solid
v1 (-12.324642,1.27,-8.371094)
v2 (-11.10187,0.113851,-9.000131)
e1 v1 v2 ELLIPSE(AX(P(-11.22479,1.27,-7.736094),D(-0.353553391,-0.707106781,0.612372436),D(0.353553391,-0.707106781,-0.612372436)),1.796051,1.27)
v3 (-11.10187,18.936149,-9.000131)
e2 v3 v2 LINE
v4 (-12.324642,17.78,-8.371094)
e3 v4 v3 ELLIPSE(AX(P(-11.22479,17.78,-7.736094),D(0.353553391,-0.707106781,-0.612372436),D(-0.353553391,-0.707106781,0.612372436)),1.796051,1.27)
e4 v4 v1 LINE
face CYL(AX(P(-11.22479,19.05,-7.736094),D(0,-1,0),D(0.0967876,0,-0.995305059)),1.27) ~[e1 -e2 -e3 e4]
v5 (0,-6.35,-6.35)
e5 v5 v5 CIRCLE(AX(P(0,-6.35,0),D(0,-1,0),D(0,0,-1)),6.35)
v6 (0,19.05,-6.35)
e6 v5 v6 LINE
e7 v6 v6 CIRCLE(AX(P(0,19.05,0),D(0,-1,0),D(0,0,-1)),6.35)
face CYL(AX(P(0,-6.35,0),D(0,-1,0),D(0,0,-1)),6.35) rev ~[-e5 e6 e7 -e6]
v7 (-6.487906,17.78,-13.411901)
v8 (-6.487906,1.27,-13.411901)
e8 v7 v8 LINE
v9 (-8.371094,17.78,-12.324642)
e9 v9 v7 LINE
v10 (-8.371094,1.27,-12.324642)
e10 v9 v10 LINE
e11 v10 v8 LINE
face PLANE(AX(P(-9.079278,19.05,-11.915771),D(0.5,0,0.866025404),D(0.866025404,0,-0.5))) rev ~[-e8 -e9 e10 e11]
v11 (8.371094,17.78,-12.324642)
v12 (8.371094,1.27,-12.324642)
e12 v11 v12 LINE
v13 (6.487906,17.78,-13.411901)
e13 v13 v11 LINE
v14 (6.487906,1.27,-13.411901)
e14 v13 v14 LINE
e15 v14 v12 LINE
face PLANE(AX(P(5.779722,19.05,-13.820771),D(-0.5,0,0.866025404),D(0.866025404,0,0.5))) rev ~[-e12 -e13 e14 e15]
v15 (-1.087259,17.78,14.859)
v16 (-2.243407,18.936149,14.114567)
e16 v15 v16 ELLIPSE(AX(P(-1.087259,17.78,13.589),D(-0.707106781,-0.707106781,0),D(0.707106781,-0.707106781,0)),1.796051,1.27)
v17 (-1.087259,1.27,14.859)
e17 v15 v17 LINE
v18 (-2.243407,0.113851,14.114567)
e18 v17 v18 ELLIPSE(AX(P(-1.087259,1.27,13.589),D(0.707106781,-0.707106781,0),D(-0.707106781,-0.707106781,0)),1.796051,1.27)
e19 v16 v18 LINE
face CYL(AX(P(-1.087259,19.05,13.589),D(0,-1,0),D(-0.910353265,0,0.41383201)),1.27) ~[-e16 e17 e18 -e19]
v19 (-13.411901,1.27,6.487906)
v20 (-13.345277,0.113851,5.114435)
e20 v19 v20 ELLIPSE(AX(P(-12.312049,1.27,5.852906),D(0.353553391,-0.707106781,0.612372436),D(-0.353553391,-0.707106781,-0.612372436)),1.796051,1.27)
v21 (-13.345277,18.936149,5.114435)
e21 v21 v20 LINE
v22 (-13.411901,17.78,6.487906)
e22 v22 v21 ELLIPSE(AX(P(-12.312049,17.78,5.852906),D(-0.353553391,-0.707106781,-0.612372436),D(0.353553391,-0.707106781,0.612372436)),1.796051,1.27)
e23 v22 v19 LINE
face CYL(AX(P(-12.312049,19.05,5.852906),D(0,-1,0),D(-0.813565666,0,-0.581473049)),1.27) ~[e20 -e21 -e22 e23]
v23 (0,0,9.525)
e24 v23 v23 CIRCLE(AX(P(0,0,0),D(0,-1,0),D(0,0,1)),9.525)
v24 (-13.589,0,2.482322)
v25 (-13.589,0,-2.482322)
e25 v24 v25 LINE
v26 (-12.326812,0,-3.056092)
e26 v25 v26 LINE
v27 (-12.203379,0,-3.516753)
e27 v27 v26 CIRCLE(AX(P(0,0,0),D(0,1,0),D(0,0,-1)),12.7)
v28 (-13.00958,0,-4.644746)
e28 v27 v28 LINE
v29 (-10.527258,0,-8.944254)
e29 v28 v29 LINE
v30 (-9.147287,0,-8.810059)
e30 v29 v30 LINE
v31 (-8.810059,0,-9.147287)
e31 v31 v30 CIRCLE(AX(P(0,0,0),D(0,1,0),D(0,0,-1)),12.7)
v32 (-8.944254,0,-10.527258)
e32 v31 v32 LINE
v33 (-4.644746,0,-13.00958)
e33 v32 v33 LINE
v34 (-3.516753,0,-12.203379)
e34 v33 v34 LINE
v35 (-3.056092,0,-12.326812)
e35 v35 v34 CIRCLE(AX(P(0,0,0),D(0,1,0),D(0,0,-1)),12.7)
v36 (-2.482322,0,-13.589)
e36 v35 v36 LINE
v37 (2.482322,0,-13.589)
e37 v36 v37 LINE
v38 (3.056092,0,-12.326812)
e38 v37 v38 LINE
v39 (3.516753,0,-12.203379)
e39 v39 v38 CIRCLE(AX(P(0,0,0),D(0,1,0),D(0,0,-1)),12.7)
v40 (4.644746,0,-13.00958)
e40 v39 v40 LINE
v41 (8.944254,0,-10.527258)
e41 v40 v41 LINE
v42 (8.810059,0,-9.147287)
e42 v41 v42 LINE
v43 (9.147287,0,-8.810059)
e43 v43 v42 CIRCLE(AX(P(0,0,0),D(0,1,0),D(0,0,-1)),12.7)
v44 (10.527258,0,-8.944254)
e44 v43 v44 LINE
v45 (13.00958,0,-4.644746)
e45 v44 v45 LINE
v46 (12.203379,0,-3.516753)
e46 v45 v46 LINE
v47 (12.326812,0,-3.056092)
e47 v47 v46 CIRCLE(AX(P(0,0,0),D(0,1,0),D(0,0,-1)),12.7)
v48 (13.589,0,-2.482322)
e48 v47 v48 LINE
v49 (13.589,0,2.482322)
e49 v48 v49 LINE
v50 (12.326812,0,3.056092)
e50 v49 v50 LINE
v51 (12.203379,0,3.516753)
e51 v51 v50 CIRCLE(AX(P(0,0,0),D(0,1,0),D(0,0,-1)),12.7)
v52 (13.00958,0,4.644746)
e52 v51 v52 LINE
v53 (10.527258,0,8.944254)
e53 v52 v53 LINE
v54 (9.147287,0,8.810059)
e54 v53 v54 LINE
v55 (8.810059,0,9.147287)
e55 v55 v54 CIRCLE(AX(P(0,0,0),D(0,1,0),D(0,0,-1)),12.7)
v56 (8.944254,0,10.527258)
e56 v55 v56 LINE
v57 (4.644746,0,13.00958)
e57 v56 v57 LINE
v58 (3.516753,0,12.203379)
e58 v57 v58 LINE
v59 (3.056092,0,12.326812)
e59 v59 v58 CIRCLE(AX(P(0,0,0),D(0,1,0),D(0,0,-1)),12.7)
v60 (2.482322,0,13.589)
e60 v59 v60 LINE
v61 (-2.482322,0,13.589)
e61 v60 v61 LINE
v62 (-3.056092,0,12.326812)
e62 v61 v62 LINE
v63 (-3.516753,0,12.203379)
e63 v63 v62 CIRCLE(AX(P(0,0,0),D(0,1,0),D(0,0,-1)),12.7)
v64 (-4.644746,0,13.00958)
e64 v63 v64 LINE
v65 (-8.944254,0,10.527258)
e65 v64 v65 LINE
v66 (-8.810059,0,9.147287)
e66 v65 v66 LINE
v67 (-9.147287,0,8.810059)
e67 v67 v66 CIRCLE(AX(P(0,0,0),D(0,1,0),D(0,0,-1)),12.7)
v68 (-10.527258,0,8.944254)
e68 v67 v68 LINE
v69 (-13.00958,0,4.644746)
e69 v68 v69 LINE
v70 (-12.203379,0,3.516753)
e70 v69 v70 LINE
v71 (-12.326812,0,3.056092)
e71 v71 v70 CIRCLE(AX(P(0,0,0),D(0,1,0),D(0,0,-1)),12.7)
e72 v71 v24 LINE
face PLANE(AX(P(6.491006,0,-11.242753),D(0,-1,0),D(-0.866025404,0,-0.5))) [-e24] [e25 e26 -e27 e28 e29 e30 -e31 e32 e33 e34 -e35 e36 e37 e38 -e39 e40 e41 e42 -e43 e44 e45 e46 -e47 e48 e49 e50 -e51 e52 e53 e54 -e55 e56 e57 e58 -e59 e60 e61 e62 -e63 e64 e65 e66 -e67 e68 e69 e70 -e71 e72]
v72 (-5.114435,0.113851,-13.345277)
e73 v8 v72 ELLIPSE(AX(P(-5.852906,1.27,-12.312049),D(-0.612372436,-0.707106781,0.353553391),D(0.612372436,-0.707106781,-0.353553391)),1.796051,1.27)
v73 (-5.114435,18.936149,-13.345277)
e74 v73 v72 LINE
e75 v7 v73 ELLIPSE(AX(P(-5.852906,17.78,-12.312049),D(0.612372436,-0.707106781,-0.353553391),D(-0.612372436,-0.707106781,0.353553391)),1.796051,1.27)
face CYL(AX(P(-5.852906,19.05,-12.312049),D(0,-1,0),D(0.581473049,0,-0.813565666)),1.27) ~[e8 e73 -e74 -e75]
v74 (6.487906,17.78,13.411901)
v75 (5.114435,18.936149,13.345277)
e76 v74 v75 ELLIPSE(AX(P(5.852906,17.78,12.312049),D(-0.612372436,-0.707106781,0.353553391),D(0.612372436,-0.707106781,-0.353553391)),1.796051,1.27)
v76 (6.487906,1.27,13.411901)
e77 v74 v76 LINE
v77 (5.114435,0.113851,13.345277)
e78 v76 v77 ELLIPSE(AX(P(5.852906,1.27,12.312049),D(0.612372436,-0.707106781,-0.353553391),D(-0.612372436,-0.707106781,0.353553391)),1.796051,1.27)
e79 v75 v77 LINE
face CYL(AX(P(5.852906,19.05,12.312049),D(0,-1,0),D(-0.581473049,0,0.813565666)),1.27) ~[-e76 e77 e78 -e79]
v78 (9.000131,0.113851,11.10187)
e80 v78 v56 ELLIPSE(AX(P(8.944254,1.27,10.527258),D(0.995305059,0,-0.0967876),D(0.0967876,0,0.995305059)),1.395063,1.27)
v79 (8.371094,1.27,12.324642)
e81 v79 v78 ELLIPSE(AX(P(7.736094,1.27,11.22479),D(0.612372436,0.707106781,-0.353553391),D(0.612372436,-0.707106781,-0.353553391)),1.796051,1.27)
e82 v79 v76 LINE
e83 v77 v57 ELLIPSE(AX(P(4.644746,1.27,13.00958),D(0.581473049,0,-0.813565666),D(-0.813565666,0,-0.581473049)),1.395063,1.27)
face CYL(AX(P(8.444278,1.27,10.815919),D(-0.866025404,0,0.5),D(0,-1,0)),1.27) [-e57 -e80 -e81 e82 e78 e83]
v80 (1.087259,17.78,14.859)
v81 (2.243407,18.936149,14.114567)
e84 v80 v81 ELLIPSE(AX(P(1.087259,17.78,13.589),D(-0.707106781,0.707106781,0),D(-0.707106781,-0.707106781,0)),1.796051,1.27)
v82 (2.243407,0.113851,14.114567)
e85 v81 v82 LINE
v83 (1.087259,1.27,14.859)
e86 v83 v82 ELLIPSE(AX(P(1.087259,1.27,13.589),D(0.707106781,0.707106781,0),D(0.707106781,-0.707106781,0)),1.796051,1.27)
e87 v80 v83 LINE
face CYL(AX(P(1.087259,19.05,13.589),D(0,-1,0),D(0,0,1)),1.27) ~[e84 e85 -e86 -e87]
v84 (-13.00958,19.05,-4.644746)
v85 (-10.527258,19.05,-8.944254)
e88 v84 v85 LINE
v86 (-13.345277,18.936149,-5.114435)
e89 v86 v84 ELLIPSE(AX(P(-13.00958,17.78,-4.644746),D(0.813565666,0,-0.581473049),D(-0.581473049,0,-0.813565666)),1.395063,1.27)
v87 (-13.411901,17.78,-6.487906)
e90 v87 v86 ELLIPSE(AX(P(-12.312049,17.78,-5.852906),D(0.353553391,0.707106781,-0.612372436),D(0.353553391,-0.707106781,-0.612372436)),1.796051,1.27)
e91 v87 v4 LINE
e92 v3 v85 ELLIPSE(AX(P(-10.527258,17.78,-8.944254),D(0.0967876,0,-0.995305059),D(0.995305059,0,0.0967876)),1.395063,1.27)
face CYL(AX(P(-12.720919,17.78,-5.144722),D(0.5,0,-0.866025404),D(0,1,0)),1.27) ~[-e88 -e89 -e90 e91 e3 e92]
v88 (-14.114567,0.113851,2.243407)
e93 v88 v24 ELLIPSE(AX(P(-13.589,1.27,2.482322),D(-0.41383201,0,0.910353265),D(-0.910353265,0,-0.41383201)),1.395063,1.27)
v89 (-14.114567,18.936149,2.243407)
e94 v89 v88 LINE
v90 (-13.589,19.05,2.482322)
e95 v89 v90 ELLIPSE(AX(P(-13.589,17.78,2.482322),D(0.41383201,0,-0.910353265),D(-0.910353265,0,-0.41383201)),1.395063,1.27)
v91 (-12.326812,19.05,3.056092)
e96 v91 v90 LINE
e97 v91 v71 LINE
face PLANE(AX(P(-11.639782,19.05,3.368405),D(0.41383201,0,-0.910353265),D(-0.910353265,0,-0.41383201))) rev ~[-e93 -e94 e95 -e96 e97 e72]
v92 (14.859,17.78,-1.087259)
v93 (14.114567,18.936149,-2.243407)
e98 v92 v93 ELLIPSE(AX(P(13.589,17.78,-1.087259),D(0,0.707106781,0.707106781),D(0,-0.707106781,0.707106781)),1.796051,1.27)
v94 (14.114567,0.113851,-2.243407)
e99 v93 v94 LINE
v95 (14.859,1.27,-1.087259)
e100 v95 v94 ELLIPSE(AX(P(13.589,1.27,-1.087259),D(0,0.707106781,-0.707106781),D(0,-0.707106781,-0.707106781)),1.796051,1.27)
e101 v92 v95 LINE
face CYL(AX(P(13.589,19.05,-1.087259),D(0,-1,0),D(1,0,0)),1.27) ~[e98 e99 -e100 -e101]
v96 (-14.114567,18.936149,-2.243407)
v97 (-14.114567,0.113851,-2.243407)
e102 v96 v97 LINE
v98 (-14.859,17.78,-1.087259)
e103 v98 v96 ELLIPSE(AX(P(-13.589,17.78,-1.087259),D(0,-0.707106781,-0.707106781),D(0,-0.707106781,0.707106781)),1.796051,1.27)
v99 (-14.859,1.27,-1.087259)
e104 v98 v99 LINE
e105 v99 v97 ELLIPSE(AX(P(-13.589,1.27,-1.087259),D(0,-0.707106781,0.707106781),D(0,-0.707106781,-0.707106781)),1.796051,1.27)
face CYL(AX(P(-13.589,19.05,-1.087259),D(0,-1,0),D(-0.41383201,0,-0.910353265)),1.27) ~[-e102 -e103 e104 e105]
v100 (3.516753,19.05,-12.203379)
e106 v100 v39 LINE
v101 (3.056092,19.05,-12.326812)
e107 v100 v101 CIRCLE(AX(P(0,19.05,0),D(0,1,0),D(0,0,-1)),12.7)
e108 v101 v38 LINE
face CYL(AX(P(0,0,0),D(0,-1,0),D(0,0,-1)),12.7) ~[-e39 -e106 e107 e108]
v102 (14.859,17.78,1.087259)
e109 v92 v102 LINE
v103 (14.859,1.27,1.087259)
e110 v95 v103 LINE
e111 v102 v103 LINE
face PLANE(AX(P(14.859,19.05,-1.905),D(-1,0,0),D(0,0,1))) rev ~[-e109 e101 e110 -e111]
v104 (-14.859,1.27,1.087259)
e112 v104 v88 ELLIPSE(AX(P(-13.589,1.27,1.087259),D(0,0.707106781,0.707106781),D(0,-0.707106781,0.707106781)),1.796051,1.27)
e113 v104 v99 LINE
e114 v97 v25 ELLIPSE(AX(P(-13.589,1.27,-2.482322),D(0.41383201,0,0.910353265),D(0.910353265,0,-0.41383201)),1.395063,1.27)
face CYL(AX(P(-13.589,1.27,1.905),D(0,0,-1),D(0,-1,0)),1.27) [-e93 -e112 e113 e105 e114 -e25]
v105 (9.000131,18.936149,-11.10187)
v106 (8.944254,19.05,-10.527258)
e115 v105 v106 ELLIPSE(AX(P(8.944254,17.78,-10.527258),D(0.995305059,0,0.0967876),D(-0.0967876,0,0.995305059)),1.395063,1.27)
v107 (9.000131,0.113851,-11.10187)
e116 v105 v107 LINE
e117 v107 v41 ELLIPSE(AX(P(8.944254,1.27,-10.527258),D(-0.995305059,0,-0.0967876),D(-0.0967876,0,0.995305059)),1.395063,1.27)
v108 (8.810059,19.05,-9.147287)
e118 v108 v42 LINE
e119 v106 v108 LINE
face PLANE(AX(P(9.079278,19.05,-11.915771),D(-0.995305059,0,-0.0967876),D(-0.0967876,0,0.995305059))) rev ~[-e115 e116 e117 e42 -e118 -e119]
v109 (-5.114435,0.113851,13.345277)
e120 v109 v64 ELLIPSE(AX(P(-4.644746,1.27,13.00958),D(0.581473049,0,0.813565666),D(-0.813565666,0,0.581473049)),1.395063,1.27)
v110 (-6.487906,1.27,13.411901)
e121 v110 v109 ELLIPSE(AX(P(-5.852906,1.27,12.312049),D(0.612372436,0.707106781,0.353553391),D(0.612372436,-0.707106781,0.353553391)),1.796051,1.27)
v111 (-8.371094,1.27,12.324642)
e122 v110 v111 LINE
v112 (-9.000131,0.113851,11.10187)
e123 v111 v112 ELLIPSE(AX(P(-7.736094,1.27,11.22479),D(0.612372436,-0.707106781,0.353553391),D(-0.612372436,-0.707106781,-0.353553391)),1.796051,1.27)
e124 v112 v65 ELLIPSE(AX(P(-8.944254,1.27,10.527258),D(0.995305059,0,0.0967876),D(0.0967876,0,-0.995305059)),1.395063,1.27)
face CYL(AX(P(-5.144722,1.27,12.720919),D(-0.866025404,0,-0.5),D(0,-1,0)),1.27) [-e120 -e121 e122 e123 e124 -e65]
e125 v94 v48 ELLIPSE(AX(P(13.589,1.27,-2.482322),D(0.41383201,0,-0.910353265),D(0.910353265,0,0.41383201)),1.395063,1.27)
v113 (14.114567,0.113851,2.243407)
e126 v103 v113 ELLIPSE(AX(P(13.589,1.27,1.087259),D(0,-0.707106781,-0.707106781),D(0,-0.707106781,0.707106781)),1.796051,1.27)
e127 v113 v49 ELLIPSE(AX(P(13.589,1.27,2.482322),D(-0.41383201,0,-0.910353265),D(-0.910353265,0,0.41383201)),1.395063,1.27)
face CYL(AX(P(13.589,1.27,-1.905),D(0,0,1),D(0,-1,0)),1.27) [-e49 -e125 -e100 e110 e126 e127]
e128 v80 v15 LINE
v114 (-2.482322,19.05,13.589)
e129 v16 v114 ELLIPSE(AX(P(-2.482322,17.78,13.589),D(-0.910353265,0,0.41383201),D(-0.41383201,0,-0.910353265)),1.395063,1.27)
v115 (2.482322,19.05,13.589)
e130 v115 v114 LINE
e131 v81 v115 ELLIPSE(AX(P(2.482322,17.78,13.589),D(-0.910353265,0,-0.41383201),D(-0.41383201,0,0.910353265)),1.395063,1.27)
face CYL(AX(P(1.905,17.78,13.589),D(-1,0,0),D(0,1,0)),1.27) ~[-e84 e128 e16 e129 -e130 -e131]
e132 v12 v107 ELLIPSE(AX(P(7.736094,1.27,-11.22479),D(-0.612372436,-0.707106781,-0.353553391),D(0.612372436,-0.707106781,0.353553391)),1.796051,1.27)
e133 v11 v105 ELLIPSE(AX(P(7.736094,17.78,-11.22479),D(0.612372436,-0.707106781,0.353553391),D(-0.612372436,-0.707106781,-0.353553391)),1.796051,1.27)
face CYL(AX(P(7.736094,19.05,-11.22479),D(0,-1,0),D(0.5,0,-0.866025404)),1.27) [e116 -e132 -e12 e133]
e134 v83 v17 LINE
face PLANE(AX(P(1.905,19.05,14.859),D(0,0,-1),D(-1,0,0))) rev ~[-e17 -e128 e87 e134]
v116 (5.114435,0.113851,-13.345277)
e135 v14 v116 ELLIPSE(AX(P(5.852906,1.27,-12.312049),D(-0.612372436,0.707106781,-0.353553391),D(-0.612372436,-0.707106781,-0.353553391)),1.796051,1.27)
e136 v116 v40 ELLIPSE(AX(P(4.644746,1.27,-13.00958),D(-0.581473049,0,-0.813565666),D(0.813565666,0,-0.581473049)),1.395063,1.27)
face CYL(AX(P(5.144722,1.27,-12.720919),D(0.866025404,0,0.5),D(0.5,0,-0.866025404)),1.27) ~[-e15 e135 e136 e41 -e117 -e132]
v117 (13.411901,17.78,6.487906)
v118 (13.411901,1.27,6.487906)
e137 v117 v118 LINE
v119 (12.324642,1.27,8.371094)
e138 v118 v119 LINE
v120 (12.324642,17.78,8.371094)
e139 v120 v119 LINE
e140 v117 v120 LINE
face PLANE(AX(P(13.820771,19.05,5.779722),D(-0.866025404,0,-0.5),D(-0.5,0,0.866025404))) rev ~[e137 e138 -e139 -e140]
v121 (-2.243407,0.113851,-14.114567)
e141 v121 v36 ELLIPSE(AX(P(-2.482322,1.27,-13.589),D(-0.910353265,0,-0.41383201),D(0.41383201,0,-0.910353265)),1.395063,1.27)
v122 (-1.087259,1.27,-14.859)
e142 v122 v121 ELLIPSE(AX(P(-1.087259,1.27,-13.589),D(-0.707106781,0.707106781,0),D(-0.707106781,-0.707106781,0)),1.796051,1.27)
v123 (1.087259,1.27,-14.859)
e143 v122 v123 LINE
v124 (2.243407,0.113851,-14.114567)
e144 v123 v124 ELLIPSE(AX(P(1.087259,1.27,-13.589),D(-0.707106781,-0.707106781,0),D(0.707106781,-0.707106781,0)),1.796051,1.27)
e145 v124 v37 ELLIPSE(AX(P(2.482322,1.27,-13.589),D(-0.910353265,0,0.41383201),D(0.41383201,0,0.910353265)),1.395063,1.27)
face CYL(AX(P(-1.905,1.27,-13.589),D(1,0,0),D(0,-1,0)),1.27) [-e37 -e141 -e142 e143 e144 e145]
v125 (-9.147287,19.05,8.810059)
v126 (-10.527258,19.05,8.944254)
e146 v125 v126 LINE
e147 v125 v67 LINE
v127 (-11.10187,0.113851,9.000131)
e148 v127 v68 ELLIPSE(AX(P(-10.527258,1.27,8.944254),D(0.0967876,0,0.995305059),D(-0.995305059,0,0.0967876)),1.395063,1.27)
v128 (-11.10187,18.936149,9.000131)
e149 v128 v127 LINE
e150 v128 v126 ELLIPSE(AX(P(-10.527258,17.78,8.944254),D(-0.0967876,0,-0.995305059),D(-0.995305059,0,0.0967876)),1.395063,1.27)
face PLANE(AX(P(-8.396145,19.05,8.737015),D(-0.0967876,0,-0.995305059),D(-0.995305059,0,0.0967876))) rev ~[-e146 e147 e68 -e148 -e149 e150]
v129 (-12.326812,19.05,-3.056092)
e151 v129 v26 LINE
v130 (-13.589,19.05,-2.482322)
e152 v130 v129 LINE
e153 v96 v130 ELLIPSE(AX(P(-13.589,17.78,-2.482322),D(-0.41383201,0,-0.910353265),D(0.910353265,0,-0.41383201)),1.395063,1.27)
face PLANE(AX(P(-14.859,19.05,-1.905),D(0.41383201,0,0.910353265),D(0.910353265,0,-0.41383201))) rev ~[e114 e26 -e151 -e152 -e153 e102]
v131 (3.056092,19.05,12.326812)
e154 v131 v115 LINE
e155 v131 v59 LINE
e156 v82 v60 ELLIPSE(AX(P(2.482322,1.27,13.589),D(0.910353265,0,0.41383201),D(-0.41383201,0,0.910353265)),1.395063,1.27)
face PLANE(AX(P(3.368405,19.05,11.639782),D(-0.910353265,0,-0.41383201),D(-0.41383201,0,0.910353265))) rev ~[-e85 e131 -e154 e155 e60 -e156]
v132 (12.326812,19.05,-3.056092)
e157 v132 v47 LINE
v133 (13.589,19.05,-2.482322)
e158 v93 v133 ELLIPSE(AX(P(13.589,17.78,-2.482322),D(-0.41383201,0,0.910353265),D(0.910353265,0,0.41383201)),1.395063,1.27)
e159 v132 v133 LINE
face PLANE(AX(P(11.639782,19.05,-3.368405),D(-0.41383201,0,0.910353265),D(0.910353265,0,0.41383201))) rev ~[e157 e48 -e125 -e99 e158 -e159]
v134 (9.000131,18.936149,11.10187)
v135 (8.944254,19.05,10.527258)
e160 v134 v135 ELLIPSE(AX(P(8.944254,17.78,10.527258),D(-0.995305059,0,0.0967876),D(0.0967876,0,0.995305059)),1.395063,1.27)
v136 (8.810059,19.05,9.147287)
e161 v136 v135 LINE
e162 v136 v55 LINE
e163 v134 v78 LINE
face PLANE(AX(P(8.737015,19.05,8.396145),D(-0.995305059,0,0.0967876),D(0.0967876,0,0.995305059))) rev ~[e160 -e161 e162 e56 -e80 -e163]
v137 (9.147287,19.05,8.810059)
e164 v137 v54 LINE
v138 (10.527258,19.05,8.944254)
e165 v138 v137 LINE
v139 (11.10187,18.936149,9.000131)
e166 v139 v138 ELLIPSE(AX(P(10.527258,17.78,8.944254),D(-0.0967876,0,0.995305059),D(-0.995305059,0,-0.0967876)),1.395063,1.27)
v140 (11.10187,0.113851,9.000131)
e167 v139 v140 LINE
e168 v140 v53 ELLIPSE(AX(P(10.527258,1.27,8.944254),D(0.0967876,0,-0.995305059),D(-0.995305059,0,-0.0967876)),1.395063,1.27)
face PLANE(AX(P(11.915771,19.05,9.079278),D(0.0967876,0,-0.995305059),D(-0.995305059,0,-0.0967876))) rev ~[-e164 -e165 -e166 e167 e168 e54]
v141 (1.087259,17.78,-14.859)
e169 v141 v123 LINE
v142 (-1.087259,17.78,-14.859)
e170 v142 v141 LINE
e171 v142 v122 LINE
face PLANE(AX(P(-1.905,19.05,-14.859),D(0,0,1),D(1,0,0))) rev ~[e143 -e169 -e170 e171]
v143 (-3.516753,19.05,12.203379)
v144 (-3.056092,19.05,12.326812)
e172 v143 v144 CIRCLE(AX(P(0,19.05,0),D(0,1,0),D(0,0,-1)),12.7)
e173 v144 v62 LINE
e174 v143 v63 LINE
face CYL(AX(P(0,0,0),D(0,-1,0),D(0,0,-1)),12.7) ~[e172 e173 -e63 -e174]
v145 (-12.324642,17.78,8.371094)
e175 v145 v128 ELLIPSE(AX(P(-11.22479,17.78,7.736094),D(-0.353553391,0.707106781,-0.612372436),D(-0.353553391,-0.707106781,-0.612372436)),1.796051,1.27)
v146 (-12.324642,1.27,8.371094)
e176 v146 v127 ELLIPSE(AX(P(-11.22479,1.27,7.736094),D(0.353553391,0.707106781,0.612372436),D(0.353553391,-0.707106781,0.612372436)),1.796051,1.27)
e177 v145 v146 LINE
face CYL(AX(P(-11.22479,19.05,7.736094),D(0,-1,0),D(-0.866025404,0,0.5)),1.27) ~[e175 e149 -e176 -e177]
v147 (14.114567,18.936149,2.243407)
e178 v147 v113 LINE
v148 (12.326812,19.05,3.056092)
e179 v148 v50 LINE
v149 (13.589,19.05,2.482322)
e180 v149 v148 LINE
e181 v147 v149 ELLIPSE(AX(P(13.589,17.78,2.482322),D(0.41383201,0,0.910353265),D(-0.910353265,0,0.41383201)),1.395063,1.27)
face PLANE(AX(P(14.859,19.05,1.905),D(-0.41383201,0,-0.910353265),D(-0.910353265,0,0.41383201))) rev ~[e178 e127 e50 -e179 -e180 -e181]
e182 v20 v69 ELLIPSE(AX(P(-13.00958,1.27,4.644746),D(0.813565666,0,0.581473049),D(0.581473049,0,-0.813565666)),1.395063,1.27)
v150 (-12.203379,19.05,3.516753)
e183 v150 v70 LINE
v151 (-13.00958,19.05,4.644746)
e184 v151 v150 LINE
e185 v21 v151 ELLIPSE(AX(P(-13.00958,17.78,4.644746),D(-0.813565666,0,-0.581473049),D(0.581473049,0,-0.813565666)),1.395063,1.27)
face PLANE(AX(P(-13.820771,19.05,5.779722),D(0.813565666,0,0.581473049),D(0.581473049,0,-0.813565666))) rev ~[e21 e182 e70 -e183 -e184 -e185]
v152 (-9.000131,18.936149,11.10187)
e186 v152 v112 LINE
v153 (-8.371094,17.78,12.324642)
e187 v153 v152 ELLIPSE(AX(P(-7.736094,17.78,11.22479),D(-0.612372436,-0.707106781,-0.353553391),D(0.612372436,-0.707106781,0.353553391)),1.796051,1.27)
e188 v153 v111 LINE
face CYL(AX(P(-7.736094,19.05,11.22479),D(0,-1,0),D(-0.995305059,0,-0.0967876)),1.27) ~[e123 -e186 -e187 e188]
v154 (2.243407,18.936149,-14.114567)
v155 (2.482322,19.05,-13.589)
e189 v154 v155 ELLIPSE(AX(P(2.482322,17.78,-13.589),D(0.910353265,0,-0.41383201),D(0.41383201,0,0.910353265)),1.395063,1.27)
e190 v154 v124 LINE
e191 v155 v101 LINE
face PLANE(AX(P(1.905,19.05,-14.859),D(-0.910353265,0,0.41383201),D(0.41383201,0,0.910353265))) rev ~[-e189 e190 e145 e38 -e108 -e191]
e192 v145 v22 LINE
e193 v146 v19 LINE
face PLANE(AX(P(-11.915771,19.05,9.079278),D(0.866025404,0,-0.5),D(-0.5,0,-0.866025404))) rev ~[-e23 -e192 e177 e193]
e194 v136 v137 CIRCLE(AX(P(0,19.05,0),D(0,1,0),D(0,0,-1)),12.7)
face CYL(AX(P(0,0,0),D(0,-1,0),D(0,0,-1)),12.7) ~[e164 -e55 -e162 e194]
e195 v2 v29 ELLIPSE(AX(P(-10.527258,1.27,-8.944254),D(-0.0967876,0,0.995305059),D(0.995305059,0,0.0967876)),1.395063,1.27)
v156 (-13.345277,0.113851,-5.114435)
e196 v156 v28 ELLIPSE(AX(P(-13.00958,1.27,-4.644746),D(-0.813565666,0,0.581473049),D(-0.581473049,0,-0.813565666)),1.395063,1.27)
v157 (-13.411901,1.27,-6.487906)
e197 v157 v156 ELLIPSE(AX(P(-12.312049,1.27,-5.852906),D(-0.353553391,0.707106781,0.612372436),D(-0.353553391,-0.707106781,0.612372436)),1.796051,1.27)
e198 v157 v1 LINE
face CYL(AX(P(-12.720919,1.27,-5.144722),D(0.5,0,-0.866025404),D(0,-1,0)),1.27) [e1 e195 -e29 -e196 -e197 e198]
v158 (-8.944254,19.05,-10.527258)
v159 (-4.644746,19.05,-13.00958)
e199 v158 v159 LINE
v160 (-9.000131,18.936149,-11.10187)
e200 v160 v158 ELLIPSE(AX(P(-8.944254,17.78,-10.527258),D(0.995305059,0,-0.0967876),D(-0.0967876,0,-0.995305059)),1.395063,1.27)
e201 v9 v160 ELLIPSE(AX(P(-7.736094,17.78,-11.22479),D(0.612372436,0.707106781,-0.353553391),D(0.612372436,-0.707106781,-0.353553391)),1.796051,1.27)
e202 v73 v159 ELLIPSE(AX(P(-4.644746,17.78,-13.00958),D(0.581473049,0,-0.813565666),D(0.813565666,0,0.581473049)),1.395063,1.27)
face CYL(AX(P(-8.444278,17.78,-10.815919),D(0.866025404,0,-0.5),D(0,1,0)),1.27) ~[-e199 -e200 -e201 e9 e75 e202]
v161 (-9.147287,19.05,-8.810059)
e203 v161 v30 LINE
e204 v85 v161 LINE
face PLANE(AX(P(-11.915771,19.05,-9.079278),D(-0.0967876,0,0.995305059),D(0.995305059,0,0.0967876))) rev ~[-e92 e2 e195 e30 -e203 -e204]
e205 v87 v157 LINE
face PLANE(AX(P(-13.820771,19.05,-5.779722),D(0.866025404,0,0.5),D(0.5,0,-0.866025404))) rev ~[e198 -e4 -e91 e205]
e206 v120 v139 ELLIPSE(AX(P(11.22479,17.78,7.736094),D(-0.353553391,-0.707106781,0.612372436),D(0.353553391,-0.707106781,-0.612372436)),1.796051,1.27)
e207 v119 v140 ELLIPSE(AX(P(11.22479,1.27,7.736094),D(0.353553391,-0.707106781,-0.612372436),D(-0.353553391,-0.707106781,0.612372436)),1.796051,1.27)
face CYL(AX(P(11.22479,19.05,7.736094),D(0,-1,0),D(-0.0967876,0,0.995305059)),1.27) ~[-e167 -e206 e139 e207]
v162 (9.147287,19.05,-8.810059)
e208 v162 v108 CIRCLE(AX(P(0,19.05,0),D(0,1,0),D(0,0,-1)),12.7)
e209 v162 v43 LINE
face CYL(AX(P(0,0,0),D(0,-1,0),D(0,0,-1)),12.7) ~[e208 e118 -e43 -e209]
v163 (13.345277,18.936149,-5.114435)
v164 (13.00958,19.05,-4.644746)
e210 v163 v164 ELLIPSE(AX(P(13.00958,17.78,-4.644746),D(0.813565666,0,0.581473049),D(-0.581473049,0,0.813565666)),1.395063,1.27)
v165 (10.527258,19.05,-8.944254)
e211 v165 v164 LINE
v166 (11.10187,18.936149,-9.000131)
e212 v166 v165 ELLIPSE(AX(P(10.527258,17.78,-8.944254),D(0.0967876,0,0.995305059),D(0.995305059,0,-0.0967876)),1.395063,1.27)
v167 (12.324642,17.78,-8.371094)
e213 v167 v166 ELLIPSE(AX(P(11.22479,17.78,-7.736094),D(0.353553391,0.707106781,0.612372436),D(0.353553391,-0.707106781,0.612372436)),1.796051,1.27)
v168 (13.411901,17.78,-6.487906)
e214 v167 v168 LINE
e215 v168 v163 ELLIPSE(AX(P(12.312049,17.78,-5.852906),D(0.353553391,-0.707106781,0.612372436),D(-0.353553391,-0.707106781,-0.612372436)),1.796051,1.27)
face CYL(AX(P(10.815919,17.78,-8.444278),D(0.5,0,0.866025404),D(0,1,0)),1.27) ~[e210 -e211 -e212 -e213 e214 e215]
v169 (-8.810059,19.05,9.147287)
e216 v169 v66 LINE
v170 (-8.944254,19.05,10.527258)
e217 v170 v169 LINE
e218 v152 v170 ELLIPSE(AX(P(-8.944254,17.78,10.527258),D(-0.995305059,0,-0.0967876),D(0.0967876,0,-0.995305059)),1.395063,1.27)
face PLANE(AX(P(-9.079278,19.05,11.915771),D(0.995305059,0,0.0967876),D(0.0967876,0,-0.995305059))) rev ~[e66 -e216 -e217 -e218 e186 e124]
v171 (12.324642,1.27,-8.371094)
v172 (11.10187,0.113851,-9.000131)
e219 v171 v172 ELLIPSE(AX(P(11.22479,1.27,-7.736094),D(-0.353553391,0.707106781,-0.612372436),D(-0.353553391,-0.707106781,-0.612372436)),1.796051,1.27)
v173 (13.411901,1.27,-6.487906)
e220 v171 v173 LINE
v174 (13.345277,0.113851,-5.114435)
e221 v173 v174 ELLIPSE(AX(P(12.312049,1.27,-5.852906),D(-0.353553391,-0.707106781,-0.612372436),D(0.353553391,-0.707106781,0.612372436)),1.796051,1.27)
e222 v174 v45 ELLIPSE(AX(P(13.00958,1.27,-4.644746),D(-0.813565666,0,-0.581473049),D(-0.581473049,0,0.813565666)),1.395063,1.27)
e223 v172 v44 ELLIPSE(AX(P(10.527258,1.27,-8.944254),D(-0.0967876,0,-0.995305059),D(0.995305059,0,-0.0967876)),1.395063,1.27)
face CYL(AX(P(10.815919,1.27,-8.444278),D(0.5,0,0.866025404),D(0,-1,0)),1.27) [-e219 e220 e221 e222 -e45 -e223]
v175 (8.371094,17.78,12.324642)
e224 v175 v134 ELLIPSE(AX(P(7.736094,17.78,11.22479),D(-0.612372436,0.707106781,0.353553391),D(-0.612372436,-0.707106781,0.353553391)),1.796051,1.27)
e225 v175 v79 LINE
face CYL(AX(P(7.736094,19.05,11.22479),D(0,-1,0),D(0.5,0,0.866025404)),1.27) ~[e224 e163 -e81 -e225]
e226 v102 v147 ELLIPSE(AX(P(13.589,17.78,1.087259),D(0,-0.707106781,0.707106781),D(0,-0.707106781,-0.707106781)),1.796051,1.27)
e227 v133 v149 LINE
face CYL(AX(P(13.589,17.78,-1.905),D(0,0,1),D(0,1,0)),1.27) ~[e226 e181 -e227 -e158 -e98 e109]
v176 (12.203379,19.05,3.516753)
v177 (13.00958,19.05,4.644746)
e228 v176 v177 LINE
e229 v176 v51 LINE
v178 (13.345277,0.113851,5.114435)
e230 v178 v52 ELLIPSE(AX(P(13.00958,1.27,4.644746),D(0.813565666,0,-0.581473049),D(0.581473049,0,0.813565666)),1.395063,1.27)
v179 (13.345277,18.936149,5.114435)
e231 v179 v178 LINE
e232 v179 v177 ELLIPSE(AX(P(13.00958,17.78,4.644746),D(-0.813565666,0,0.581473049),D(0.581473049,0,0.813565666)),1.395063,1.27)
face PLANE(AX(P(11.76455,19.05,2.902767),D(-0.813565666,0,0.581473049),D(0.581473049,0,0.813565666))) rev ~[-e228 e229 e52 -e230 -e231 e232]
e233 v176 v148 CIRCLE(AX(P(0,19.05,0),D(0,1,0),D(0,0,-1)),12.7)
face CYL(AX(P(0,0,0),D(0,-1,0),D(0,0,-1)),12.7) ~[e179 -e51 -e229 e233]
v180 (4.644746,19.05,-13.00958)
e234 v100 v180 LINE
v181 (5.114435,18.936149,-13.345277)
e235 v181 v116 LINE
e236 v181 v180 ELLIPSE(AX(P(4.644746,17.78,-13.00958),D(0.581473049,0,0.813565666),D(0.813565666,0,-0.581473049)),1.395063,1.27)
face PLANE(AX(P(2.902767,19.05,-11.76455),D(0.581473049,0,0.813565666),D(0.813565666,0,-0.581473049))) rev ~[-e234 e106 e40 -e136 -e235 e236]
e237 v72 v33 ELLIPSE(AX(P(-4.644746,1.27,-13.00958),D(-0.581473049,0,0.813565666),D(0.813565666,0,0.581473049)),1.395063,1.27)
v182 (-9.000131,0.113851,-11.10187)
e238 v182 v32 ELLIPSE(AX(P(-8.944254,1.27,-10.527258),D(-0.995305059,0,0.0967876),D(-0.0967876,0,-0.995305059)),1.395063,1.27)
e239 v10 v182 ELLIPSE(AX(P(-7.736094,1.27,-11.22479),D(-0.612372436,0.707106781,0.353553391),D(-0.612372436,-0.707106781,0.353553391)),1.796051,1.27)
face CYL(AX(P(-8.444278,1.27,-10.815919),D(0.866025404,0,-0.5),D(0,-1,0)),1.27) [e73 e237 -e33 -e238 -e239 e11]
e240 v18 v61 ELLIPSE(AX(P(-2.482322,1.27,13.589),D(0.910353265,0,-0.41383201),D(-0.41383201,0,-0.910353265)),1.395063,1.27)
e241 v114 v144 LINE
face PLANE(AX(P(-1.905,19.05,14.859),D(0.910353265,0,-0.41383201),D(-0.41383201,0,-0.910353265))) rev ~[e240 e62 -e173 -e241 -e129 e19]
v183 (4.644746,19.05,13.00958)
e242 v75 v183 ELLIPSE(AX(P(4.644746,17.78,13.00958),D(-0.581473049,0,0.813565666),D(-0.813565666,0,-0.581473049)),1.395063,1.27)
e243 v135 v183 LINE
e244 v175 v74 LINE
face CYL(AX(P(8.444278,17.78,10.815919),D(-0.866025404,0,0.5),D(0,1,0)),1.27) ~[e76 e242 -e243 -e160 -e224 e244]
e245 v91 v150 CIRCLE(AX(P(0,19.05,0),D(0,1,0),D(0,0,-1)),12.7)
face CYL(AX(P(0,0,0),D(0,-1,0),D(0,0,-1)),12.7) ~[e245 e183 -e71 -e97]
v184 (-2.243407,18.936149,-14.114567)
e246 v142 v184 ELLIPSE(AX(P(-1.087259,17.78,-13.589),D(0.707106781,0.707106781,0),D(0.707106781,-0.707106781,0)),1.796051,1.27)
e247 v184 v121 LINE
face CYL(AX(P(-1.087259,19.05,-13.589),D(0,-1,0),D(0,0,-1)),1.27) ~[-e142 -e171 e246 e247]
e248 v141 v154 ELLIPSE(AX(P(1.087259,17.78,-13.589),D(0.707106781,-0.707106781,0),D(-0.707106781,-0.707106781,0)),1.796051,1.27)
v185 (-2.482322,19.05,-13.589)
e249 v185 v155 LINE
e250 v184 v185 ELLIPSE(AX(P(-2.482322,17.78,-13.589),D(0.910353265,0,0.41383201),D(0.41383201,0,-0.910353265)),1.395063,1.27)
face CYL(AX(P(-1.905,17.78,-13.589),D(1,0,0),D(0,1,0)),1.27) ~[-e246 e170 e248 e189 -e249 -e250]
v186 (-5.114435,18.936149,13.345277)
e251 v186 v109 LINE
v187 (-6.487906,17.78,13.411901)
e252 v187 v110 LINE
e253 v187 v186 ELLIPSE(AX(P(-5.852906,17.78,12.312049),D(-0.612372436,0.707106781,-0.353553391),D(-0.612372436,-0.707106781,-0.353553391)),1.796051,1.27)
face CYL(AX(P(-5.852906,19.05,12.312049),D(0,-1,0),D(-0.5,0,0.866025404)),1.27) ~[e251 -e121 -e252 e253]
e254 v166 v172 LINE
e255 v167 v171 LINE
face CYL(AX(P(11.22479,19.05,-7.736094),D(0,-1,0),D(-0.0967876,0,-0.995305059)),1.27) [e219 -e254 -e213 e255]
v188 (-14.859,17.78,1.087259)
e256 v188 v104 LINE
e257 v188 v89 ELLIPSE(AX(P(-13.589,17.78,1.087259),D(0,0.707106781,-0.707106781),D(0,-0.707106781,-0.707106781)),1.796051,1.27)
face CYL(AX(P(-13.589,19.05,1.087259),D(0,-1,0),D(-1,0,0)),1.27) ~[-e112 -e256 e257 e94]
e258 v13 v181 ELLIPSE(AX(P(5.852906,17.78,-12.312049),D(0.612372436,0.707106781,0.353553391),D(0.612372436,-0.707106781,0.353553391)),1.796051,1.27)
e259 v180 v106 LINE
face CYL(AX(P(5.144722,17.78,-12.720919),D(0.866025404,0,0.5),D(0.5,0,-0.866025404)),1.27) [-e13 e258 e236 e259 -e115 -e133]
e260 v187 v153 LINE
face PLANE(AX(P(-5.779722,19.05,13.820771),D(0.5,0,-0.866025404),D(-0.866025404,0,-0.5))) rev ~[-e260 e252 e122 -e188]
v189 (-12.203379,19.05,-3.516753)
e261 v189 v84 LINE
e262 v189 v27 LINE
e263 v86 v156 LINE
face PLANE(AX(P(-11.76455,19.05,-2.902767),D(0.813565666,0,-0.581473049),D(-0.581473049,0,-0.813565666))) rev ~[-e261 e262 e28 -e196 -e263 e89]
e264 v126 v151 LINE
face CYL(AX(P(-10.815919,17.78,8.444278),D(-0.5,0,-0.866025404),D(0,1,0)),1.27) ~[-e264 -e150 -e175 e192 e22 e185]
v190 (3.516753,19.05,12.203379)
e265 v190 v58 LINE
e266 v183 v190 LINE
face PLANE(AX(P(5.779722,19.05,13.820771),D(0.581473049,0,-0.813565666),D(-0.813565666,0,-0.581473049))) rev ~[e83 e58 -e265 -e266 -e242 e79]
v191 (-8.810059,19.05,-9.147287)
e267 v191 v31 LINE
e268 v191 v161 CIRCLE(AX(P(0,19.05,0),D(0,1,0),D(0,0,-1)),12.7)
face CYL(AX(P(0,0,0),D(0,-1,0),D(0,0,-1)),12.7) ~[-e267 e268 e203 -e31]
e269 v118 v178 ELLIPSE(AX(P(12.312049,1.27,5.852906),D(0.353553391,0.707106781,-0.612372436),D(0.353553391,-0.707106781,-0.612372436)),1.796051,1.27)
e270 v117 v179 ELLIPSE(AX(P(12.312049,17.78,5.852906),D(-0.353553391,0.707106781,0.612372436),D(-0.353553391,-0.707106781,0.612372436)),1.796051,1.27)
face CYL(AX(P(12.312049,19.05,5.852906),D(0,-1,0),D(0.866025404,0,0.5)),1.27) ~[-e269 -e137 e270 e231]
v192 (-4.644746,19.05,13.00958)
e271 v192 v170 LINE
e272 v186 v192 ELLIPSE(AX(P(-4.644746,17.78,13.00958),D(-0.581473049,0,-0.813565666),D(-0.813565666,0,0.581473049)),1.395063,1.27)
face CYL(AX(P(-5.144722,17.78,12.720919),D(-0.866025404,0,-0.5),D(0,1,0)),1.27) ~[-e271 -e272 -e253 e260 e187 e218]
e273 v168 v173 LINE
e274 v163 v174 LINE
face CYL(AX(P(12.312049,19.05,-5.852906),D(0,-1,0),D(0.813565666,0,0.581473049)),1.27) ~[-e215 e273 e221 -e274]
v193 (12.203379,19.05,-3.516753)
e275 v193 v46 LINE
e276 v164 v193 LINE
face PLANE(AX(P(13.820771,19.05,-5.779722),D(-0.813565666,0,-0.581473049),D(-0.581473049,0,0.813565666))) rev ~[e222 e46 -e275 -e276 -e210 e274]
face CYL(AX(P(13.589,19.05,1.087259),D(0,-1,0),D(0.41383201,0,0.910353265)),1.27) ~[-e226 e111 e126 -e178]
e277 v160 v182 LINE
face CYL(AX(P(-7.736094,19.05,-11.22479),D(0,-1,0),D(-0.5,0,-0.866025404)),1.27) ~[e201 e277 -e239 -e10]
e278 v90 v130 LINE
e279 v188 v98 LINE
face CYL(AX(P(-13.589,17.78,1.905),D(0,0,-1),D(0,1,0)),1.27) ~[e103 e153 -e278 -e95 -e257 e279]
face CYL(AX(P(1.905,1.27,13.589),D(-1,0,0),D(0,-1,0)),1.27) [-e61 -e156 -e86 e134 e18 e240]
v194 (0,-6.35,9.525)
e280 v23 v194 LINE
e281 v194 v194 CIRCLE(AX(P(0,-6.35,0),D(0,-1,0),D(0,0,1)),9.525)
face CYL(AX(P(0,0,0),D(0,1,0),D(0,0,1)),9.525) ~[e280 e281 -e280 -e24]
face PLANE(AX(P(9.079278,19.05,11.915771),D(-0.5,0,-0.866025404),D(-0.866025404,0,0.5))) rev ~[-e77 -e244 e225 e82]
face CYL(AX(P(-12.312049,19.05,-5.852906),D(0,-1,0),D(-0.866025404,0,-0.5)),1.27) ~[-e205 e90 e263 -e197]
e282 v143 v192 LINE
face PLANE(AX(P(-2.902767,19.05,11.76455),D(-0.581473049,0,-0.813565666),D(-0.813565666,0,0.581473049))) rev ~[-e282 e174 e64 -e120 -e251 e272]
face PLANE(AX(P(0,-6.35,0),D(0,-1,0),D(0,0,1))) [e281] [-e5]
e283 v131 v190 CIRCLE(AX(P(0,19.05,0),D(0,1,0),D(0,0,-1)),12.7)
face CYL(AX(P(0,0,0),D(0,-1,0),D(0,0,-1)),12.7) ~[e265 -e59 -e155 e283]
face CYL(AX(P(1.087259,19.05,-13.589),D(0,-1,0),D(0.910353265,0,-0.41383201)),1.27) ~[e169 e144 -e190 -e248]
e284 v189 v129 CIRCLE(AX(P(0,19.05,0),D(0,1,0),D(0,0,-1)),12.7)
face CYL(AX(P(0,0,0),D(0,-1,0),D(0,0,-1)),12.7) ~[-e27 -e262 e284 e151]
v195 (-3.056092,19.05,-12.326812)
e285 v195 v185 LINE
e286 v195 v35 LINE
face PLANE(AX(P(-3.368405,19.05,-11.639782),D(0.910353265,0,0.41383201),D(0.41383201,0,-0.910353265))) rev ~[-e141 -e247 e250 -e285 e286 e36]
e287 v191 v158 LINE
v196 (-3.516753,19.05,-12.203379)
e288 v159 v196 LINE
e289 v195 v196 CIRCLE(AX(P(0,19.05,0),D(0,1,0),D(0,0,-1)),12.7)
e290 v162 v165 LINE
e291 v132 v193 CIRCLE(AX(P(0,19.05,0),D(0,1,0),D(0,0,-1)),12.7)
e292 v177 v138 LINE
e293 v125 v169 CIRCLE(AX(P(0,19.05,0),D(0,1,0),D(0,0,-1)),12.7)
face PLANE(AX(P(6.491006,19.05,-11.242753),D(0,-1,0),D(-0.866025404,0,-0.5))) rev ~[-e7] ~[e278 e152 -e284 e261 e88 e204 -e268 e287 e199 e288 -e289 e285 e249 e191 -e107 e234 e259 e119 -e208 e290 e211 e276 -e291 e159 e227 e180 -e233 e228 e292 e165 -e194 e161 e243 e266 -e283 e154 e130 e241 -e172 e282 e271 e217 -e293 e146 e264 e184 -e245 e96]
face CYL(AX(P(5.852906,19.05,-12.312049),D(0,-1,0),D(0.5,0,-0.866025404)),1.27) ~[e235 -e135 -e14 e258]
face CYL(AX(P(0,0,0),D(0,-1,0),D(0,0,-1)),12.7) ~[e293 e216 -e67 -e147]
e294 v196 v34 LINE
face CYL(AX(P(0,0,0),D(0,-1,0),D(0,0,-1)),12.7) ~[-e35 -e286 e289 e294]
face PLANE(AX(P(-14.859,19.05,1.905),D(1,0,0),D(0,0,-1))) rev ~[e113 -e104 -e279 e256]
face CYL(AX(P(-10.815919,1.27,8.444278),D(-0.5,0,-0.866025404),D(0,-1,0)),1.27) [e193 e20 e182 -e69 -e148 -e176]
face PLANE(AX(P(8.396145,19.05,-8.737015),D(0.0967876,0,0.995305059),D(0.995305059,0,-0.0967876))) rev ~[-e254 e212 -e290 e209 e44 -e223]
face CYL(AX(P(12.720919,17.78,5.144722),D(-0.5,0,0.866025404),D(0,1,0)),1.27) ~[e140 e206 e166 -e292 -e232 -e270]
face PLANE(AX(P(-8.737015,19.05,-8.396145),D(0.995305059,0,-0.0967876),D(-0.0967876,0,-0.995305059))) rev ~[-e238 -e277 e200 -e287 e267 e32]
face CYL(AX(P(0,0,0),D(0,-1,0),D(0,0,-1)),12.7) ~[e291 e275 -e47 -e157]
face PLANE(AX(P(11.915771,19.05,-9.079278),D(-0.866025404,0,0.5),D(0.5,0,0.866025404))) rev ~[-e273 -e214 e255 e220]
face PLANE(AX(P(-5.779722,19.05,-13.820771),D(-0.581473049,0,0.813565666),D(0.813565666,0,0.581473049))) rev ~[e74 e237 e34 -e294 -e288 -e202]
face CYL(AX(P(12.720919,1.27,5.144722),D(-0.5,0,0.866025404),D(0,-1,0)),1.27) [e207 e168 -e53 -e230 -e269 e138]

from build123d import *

# Parameters (mm, degrees)
SKETCH1_R           = 12.7
BOSS_EXTRUDE1_DEPTH = 19.05
BOSS_EXTRUDE2_DEPTH = 19.05
CIRPATTERN1_COUNT   = 12
FILLET1_R           = 1.27
SKETCH3_R           = 9.525
BOSS_EXTRUDE3_DEPTH = 6.35
SKETCH4_R           = 6.35
CUT_EXTRUDE1_DEPTH  = 33.965736182


with BuildPart() as part:
    # Sketch1 → Boss-Extrude1 (new body)
    with BuildSketch(Plane(origin=(0, 0, 0), x_dir=(1, 0, 0), z_dir=(0, 1, 0))):
        with Locations(Location((0, 0, 0), (0, 0, 90))):
            Circle(SKETCH1_R)
    extrude(amount=BOSS_EXTRUDE1_DEPTH)

    # Sketch2 → Boss-Extrude2 (add)
    with BuildSketch(Plane(origin=(0, 19.05, 0), x_dir=(1, 0, 0), z_dir=(0, 1, 0))):
        Polygon((-1.905, 14.859), (1.905, 14.859), (3.368404775, 11.639782335), (-3.368404775, 11.639782335), align=None)
    boss_extrude2 = extrude(amount=-BOSS_EXTRUDE2_DEPTH)

    # CirPattern1: Boss-Extrude2 ×12 about axis
    cirpattern1_axis = Axis((0, 0, 0), (0, 1, 0))
    for i in range(1, CIRPATTERN1_COUNT):
        add(boss_extrude2.rotate(cirpattern1_axis, i * 360 / CIRPATTERN1_COUNT))

    # Fillet1
    fillet1_edges = [part.edges().sort_by_distance(p)[0] for p in [
        (0, 19.05, -14.859),
        (1.905, 9.525, -14.859),
        (-12.868271475, 0, -7.4295),
        (-13.820771475, 9.525, -5.779721606),
        (-14.859, 0, 0),
        (-14.859, 9.525, 1.905),
        (-12.868271475, 0, 7.4295),
        (-11.915771475, 9.525, 9.079278394),
        (-7.4295, 0, 12.868271475),
        (-5.779721606, 9.525, 13.820771475),
        (0, 0, 14.859),
        (1.905, 9.525, 14.859),
        (7.4295, 0, 12.868271475),
        (9.079278394, 9.525, 11.915771475),
        (12.868271475, 0, 7.4295),
        (13.820771475, 9.525, 5.779721606),
        (14.859, 0, 0),
        (14.859, 9.525, -1.905),
        (12.868271475, 0, -7.4295),
        (11.915771475, 9.525, -9.079278394),
        (0, 0, -14.859),
        (7.4295, 0, -12.868271475),
        (5.779721606, 9.525, -13.820771475),
        (-1.905, 9.525, -14.859),
        (7.4295, 19.05, -12.868271475),
        (12.868271475, 19.05, -7.4295),
        (14.859, 19.05, 0),
        (12.868271475, 19.05, 7.4295),
        (7.4295, 19.05, 12.868271475),
        (0, 19.05, 14.859),
        (-7.4295, 19.05, 12.868271475),
        (-12.868271475, 19.05, 7.4295),
        (-14.859, 19.05, 0),
        (-12.868271475, 19.05, -7.4295),
        (-7.4295, 19.05, -12.868271475),
        (-5.779721606, 9.525, -13.820771475),
        (-11.915771475, 9.525, -9.079278394),
        (-14.859, 9.525, -1.905),
        (-13.820771475, 9.525, 5.779721606),
        (-9.079278394, 9.525, 11.915771475),
        (-1.905, 9.525, 14.859),
        (5.779721606, 9.525, 13.820771475),
        (11.915771475, 9.525, 9.079278394),
        (14.859, 9.525, 1.905),
        (13.820771475, 9.525, -5.779721606),
        (9.079278394, 9.525, -11.915771475),
        (-7.4295, 0, -12.868271475),
        (-9.079278394, 9.525, -11.915771475),
    ]]
    fillet(fillet1_edges, radius=FILLET1_R)

    # Sketch3 → Boss-Extrude3 (add)
    with BuildSketch(Plane.XZ):
        with Locations(Location((0, 0, 0), (0, 0, 90))):
            Circle(SKETCH3_R)
    extrude(amount=BOSS_EXTRUDE3_DEPTH)

    # Sketch4 → Cut-Extrude1 (cut, through all)
    with BuildSketch(Plane.XZ.offset(6.35)):
        with Locations(Location((0, 0, 0), (0, 0, 270))):
            Circle(SKETCH4_R)
    extrude(amount=-CUT_EXTRUDE1_DEPTH, mode=Mode.SUBTRACT)


solid = part.part
